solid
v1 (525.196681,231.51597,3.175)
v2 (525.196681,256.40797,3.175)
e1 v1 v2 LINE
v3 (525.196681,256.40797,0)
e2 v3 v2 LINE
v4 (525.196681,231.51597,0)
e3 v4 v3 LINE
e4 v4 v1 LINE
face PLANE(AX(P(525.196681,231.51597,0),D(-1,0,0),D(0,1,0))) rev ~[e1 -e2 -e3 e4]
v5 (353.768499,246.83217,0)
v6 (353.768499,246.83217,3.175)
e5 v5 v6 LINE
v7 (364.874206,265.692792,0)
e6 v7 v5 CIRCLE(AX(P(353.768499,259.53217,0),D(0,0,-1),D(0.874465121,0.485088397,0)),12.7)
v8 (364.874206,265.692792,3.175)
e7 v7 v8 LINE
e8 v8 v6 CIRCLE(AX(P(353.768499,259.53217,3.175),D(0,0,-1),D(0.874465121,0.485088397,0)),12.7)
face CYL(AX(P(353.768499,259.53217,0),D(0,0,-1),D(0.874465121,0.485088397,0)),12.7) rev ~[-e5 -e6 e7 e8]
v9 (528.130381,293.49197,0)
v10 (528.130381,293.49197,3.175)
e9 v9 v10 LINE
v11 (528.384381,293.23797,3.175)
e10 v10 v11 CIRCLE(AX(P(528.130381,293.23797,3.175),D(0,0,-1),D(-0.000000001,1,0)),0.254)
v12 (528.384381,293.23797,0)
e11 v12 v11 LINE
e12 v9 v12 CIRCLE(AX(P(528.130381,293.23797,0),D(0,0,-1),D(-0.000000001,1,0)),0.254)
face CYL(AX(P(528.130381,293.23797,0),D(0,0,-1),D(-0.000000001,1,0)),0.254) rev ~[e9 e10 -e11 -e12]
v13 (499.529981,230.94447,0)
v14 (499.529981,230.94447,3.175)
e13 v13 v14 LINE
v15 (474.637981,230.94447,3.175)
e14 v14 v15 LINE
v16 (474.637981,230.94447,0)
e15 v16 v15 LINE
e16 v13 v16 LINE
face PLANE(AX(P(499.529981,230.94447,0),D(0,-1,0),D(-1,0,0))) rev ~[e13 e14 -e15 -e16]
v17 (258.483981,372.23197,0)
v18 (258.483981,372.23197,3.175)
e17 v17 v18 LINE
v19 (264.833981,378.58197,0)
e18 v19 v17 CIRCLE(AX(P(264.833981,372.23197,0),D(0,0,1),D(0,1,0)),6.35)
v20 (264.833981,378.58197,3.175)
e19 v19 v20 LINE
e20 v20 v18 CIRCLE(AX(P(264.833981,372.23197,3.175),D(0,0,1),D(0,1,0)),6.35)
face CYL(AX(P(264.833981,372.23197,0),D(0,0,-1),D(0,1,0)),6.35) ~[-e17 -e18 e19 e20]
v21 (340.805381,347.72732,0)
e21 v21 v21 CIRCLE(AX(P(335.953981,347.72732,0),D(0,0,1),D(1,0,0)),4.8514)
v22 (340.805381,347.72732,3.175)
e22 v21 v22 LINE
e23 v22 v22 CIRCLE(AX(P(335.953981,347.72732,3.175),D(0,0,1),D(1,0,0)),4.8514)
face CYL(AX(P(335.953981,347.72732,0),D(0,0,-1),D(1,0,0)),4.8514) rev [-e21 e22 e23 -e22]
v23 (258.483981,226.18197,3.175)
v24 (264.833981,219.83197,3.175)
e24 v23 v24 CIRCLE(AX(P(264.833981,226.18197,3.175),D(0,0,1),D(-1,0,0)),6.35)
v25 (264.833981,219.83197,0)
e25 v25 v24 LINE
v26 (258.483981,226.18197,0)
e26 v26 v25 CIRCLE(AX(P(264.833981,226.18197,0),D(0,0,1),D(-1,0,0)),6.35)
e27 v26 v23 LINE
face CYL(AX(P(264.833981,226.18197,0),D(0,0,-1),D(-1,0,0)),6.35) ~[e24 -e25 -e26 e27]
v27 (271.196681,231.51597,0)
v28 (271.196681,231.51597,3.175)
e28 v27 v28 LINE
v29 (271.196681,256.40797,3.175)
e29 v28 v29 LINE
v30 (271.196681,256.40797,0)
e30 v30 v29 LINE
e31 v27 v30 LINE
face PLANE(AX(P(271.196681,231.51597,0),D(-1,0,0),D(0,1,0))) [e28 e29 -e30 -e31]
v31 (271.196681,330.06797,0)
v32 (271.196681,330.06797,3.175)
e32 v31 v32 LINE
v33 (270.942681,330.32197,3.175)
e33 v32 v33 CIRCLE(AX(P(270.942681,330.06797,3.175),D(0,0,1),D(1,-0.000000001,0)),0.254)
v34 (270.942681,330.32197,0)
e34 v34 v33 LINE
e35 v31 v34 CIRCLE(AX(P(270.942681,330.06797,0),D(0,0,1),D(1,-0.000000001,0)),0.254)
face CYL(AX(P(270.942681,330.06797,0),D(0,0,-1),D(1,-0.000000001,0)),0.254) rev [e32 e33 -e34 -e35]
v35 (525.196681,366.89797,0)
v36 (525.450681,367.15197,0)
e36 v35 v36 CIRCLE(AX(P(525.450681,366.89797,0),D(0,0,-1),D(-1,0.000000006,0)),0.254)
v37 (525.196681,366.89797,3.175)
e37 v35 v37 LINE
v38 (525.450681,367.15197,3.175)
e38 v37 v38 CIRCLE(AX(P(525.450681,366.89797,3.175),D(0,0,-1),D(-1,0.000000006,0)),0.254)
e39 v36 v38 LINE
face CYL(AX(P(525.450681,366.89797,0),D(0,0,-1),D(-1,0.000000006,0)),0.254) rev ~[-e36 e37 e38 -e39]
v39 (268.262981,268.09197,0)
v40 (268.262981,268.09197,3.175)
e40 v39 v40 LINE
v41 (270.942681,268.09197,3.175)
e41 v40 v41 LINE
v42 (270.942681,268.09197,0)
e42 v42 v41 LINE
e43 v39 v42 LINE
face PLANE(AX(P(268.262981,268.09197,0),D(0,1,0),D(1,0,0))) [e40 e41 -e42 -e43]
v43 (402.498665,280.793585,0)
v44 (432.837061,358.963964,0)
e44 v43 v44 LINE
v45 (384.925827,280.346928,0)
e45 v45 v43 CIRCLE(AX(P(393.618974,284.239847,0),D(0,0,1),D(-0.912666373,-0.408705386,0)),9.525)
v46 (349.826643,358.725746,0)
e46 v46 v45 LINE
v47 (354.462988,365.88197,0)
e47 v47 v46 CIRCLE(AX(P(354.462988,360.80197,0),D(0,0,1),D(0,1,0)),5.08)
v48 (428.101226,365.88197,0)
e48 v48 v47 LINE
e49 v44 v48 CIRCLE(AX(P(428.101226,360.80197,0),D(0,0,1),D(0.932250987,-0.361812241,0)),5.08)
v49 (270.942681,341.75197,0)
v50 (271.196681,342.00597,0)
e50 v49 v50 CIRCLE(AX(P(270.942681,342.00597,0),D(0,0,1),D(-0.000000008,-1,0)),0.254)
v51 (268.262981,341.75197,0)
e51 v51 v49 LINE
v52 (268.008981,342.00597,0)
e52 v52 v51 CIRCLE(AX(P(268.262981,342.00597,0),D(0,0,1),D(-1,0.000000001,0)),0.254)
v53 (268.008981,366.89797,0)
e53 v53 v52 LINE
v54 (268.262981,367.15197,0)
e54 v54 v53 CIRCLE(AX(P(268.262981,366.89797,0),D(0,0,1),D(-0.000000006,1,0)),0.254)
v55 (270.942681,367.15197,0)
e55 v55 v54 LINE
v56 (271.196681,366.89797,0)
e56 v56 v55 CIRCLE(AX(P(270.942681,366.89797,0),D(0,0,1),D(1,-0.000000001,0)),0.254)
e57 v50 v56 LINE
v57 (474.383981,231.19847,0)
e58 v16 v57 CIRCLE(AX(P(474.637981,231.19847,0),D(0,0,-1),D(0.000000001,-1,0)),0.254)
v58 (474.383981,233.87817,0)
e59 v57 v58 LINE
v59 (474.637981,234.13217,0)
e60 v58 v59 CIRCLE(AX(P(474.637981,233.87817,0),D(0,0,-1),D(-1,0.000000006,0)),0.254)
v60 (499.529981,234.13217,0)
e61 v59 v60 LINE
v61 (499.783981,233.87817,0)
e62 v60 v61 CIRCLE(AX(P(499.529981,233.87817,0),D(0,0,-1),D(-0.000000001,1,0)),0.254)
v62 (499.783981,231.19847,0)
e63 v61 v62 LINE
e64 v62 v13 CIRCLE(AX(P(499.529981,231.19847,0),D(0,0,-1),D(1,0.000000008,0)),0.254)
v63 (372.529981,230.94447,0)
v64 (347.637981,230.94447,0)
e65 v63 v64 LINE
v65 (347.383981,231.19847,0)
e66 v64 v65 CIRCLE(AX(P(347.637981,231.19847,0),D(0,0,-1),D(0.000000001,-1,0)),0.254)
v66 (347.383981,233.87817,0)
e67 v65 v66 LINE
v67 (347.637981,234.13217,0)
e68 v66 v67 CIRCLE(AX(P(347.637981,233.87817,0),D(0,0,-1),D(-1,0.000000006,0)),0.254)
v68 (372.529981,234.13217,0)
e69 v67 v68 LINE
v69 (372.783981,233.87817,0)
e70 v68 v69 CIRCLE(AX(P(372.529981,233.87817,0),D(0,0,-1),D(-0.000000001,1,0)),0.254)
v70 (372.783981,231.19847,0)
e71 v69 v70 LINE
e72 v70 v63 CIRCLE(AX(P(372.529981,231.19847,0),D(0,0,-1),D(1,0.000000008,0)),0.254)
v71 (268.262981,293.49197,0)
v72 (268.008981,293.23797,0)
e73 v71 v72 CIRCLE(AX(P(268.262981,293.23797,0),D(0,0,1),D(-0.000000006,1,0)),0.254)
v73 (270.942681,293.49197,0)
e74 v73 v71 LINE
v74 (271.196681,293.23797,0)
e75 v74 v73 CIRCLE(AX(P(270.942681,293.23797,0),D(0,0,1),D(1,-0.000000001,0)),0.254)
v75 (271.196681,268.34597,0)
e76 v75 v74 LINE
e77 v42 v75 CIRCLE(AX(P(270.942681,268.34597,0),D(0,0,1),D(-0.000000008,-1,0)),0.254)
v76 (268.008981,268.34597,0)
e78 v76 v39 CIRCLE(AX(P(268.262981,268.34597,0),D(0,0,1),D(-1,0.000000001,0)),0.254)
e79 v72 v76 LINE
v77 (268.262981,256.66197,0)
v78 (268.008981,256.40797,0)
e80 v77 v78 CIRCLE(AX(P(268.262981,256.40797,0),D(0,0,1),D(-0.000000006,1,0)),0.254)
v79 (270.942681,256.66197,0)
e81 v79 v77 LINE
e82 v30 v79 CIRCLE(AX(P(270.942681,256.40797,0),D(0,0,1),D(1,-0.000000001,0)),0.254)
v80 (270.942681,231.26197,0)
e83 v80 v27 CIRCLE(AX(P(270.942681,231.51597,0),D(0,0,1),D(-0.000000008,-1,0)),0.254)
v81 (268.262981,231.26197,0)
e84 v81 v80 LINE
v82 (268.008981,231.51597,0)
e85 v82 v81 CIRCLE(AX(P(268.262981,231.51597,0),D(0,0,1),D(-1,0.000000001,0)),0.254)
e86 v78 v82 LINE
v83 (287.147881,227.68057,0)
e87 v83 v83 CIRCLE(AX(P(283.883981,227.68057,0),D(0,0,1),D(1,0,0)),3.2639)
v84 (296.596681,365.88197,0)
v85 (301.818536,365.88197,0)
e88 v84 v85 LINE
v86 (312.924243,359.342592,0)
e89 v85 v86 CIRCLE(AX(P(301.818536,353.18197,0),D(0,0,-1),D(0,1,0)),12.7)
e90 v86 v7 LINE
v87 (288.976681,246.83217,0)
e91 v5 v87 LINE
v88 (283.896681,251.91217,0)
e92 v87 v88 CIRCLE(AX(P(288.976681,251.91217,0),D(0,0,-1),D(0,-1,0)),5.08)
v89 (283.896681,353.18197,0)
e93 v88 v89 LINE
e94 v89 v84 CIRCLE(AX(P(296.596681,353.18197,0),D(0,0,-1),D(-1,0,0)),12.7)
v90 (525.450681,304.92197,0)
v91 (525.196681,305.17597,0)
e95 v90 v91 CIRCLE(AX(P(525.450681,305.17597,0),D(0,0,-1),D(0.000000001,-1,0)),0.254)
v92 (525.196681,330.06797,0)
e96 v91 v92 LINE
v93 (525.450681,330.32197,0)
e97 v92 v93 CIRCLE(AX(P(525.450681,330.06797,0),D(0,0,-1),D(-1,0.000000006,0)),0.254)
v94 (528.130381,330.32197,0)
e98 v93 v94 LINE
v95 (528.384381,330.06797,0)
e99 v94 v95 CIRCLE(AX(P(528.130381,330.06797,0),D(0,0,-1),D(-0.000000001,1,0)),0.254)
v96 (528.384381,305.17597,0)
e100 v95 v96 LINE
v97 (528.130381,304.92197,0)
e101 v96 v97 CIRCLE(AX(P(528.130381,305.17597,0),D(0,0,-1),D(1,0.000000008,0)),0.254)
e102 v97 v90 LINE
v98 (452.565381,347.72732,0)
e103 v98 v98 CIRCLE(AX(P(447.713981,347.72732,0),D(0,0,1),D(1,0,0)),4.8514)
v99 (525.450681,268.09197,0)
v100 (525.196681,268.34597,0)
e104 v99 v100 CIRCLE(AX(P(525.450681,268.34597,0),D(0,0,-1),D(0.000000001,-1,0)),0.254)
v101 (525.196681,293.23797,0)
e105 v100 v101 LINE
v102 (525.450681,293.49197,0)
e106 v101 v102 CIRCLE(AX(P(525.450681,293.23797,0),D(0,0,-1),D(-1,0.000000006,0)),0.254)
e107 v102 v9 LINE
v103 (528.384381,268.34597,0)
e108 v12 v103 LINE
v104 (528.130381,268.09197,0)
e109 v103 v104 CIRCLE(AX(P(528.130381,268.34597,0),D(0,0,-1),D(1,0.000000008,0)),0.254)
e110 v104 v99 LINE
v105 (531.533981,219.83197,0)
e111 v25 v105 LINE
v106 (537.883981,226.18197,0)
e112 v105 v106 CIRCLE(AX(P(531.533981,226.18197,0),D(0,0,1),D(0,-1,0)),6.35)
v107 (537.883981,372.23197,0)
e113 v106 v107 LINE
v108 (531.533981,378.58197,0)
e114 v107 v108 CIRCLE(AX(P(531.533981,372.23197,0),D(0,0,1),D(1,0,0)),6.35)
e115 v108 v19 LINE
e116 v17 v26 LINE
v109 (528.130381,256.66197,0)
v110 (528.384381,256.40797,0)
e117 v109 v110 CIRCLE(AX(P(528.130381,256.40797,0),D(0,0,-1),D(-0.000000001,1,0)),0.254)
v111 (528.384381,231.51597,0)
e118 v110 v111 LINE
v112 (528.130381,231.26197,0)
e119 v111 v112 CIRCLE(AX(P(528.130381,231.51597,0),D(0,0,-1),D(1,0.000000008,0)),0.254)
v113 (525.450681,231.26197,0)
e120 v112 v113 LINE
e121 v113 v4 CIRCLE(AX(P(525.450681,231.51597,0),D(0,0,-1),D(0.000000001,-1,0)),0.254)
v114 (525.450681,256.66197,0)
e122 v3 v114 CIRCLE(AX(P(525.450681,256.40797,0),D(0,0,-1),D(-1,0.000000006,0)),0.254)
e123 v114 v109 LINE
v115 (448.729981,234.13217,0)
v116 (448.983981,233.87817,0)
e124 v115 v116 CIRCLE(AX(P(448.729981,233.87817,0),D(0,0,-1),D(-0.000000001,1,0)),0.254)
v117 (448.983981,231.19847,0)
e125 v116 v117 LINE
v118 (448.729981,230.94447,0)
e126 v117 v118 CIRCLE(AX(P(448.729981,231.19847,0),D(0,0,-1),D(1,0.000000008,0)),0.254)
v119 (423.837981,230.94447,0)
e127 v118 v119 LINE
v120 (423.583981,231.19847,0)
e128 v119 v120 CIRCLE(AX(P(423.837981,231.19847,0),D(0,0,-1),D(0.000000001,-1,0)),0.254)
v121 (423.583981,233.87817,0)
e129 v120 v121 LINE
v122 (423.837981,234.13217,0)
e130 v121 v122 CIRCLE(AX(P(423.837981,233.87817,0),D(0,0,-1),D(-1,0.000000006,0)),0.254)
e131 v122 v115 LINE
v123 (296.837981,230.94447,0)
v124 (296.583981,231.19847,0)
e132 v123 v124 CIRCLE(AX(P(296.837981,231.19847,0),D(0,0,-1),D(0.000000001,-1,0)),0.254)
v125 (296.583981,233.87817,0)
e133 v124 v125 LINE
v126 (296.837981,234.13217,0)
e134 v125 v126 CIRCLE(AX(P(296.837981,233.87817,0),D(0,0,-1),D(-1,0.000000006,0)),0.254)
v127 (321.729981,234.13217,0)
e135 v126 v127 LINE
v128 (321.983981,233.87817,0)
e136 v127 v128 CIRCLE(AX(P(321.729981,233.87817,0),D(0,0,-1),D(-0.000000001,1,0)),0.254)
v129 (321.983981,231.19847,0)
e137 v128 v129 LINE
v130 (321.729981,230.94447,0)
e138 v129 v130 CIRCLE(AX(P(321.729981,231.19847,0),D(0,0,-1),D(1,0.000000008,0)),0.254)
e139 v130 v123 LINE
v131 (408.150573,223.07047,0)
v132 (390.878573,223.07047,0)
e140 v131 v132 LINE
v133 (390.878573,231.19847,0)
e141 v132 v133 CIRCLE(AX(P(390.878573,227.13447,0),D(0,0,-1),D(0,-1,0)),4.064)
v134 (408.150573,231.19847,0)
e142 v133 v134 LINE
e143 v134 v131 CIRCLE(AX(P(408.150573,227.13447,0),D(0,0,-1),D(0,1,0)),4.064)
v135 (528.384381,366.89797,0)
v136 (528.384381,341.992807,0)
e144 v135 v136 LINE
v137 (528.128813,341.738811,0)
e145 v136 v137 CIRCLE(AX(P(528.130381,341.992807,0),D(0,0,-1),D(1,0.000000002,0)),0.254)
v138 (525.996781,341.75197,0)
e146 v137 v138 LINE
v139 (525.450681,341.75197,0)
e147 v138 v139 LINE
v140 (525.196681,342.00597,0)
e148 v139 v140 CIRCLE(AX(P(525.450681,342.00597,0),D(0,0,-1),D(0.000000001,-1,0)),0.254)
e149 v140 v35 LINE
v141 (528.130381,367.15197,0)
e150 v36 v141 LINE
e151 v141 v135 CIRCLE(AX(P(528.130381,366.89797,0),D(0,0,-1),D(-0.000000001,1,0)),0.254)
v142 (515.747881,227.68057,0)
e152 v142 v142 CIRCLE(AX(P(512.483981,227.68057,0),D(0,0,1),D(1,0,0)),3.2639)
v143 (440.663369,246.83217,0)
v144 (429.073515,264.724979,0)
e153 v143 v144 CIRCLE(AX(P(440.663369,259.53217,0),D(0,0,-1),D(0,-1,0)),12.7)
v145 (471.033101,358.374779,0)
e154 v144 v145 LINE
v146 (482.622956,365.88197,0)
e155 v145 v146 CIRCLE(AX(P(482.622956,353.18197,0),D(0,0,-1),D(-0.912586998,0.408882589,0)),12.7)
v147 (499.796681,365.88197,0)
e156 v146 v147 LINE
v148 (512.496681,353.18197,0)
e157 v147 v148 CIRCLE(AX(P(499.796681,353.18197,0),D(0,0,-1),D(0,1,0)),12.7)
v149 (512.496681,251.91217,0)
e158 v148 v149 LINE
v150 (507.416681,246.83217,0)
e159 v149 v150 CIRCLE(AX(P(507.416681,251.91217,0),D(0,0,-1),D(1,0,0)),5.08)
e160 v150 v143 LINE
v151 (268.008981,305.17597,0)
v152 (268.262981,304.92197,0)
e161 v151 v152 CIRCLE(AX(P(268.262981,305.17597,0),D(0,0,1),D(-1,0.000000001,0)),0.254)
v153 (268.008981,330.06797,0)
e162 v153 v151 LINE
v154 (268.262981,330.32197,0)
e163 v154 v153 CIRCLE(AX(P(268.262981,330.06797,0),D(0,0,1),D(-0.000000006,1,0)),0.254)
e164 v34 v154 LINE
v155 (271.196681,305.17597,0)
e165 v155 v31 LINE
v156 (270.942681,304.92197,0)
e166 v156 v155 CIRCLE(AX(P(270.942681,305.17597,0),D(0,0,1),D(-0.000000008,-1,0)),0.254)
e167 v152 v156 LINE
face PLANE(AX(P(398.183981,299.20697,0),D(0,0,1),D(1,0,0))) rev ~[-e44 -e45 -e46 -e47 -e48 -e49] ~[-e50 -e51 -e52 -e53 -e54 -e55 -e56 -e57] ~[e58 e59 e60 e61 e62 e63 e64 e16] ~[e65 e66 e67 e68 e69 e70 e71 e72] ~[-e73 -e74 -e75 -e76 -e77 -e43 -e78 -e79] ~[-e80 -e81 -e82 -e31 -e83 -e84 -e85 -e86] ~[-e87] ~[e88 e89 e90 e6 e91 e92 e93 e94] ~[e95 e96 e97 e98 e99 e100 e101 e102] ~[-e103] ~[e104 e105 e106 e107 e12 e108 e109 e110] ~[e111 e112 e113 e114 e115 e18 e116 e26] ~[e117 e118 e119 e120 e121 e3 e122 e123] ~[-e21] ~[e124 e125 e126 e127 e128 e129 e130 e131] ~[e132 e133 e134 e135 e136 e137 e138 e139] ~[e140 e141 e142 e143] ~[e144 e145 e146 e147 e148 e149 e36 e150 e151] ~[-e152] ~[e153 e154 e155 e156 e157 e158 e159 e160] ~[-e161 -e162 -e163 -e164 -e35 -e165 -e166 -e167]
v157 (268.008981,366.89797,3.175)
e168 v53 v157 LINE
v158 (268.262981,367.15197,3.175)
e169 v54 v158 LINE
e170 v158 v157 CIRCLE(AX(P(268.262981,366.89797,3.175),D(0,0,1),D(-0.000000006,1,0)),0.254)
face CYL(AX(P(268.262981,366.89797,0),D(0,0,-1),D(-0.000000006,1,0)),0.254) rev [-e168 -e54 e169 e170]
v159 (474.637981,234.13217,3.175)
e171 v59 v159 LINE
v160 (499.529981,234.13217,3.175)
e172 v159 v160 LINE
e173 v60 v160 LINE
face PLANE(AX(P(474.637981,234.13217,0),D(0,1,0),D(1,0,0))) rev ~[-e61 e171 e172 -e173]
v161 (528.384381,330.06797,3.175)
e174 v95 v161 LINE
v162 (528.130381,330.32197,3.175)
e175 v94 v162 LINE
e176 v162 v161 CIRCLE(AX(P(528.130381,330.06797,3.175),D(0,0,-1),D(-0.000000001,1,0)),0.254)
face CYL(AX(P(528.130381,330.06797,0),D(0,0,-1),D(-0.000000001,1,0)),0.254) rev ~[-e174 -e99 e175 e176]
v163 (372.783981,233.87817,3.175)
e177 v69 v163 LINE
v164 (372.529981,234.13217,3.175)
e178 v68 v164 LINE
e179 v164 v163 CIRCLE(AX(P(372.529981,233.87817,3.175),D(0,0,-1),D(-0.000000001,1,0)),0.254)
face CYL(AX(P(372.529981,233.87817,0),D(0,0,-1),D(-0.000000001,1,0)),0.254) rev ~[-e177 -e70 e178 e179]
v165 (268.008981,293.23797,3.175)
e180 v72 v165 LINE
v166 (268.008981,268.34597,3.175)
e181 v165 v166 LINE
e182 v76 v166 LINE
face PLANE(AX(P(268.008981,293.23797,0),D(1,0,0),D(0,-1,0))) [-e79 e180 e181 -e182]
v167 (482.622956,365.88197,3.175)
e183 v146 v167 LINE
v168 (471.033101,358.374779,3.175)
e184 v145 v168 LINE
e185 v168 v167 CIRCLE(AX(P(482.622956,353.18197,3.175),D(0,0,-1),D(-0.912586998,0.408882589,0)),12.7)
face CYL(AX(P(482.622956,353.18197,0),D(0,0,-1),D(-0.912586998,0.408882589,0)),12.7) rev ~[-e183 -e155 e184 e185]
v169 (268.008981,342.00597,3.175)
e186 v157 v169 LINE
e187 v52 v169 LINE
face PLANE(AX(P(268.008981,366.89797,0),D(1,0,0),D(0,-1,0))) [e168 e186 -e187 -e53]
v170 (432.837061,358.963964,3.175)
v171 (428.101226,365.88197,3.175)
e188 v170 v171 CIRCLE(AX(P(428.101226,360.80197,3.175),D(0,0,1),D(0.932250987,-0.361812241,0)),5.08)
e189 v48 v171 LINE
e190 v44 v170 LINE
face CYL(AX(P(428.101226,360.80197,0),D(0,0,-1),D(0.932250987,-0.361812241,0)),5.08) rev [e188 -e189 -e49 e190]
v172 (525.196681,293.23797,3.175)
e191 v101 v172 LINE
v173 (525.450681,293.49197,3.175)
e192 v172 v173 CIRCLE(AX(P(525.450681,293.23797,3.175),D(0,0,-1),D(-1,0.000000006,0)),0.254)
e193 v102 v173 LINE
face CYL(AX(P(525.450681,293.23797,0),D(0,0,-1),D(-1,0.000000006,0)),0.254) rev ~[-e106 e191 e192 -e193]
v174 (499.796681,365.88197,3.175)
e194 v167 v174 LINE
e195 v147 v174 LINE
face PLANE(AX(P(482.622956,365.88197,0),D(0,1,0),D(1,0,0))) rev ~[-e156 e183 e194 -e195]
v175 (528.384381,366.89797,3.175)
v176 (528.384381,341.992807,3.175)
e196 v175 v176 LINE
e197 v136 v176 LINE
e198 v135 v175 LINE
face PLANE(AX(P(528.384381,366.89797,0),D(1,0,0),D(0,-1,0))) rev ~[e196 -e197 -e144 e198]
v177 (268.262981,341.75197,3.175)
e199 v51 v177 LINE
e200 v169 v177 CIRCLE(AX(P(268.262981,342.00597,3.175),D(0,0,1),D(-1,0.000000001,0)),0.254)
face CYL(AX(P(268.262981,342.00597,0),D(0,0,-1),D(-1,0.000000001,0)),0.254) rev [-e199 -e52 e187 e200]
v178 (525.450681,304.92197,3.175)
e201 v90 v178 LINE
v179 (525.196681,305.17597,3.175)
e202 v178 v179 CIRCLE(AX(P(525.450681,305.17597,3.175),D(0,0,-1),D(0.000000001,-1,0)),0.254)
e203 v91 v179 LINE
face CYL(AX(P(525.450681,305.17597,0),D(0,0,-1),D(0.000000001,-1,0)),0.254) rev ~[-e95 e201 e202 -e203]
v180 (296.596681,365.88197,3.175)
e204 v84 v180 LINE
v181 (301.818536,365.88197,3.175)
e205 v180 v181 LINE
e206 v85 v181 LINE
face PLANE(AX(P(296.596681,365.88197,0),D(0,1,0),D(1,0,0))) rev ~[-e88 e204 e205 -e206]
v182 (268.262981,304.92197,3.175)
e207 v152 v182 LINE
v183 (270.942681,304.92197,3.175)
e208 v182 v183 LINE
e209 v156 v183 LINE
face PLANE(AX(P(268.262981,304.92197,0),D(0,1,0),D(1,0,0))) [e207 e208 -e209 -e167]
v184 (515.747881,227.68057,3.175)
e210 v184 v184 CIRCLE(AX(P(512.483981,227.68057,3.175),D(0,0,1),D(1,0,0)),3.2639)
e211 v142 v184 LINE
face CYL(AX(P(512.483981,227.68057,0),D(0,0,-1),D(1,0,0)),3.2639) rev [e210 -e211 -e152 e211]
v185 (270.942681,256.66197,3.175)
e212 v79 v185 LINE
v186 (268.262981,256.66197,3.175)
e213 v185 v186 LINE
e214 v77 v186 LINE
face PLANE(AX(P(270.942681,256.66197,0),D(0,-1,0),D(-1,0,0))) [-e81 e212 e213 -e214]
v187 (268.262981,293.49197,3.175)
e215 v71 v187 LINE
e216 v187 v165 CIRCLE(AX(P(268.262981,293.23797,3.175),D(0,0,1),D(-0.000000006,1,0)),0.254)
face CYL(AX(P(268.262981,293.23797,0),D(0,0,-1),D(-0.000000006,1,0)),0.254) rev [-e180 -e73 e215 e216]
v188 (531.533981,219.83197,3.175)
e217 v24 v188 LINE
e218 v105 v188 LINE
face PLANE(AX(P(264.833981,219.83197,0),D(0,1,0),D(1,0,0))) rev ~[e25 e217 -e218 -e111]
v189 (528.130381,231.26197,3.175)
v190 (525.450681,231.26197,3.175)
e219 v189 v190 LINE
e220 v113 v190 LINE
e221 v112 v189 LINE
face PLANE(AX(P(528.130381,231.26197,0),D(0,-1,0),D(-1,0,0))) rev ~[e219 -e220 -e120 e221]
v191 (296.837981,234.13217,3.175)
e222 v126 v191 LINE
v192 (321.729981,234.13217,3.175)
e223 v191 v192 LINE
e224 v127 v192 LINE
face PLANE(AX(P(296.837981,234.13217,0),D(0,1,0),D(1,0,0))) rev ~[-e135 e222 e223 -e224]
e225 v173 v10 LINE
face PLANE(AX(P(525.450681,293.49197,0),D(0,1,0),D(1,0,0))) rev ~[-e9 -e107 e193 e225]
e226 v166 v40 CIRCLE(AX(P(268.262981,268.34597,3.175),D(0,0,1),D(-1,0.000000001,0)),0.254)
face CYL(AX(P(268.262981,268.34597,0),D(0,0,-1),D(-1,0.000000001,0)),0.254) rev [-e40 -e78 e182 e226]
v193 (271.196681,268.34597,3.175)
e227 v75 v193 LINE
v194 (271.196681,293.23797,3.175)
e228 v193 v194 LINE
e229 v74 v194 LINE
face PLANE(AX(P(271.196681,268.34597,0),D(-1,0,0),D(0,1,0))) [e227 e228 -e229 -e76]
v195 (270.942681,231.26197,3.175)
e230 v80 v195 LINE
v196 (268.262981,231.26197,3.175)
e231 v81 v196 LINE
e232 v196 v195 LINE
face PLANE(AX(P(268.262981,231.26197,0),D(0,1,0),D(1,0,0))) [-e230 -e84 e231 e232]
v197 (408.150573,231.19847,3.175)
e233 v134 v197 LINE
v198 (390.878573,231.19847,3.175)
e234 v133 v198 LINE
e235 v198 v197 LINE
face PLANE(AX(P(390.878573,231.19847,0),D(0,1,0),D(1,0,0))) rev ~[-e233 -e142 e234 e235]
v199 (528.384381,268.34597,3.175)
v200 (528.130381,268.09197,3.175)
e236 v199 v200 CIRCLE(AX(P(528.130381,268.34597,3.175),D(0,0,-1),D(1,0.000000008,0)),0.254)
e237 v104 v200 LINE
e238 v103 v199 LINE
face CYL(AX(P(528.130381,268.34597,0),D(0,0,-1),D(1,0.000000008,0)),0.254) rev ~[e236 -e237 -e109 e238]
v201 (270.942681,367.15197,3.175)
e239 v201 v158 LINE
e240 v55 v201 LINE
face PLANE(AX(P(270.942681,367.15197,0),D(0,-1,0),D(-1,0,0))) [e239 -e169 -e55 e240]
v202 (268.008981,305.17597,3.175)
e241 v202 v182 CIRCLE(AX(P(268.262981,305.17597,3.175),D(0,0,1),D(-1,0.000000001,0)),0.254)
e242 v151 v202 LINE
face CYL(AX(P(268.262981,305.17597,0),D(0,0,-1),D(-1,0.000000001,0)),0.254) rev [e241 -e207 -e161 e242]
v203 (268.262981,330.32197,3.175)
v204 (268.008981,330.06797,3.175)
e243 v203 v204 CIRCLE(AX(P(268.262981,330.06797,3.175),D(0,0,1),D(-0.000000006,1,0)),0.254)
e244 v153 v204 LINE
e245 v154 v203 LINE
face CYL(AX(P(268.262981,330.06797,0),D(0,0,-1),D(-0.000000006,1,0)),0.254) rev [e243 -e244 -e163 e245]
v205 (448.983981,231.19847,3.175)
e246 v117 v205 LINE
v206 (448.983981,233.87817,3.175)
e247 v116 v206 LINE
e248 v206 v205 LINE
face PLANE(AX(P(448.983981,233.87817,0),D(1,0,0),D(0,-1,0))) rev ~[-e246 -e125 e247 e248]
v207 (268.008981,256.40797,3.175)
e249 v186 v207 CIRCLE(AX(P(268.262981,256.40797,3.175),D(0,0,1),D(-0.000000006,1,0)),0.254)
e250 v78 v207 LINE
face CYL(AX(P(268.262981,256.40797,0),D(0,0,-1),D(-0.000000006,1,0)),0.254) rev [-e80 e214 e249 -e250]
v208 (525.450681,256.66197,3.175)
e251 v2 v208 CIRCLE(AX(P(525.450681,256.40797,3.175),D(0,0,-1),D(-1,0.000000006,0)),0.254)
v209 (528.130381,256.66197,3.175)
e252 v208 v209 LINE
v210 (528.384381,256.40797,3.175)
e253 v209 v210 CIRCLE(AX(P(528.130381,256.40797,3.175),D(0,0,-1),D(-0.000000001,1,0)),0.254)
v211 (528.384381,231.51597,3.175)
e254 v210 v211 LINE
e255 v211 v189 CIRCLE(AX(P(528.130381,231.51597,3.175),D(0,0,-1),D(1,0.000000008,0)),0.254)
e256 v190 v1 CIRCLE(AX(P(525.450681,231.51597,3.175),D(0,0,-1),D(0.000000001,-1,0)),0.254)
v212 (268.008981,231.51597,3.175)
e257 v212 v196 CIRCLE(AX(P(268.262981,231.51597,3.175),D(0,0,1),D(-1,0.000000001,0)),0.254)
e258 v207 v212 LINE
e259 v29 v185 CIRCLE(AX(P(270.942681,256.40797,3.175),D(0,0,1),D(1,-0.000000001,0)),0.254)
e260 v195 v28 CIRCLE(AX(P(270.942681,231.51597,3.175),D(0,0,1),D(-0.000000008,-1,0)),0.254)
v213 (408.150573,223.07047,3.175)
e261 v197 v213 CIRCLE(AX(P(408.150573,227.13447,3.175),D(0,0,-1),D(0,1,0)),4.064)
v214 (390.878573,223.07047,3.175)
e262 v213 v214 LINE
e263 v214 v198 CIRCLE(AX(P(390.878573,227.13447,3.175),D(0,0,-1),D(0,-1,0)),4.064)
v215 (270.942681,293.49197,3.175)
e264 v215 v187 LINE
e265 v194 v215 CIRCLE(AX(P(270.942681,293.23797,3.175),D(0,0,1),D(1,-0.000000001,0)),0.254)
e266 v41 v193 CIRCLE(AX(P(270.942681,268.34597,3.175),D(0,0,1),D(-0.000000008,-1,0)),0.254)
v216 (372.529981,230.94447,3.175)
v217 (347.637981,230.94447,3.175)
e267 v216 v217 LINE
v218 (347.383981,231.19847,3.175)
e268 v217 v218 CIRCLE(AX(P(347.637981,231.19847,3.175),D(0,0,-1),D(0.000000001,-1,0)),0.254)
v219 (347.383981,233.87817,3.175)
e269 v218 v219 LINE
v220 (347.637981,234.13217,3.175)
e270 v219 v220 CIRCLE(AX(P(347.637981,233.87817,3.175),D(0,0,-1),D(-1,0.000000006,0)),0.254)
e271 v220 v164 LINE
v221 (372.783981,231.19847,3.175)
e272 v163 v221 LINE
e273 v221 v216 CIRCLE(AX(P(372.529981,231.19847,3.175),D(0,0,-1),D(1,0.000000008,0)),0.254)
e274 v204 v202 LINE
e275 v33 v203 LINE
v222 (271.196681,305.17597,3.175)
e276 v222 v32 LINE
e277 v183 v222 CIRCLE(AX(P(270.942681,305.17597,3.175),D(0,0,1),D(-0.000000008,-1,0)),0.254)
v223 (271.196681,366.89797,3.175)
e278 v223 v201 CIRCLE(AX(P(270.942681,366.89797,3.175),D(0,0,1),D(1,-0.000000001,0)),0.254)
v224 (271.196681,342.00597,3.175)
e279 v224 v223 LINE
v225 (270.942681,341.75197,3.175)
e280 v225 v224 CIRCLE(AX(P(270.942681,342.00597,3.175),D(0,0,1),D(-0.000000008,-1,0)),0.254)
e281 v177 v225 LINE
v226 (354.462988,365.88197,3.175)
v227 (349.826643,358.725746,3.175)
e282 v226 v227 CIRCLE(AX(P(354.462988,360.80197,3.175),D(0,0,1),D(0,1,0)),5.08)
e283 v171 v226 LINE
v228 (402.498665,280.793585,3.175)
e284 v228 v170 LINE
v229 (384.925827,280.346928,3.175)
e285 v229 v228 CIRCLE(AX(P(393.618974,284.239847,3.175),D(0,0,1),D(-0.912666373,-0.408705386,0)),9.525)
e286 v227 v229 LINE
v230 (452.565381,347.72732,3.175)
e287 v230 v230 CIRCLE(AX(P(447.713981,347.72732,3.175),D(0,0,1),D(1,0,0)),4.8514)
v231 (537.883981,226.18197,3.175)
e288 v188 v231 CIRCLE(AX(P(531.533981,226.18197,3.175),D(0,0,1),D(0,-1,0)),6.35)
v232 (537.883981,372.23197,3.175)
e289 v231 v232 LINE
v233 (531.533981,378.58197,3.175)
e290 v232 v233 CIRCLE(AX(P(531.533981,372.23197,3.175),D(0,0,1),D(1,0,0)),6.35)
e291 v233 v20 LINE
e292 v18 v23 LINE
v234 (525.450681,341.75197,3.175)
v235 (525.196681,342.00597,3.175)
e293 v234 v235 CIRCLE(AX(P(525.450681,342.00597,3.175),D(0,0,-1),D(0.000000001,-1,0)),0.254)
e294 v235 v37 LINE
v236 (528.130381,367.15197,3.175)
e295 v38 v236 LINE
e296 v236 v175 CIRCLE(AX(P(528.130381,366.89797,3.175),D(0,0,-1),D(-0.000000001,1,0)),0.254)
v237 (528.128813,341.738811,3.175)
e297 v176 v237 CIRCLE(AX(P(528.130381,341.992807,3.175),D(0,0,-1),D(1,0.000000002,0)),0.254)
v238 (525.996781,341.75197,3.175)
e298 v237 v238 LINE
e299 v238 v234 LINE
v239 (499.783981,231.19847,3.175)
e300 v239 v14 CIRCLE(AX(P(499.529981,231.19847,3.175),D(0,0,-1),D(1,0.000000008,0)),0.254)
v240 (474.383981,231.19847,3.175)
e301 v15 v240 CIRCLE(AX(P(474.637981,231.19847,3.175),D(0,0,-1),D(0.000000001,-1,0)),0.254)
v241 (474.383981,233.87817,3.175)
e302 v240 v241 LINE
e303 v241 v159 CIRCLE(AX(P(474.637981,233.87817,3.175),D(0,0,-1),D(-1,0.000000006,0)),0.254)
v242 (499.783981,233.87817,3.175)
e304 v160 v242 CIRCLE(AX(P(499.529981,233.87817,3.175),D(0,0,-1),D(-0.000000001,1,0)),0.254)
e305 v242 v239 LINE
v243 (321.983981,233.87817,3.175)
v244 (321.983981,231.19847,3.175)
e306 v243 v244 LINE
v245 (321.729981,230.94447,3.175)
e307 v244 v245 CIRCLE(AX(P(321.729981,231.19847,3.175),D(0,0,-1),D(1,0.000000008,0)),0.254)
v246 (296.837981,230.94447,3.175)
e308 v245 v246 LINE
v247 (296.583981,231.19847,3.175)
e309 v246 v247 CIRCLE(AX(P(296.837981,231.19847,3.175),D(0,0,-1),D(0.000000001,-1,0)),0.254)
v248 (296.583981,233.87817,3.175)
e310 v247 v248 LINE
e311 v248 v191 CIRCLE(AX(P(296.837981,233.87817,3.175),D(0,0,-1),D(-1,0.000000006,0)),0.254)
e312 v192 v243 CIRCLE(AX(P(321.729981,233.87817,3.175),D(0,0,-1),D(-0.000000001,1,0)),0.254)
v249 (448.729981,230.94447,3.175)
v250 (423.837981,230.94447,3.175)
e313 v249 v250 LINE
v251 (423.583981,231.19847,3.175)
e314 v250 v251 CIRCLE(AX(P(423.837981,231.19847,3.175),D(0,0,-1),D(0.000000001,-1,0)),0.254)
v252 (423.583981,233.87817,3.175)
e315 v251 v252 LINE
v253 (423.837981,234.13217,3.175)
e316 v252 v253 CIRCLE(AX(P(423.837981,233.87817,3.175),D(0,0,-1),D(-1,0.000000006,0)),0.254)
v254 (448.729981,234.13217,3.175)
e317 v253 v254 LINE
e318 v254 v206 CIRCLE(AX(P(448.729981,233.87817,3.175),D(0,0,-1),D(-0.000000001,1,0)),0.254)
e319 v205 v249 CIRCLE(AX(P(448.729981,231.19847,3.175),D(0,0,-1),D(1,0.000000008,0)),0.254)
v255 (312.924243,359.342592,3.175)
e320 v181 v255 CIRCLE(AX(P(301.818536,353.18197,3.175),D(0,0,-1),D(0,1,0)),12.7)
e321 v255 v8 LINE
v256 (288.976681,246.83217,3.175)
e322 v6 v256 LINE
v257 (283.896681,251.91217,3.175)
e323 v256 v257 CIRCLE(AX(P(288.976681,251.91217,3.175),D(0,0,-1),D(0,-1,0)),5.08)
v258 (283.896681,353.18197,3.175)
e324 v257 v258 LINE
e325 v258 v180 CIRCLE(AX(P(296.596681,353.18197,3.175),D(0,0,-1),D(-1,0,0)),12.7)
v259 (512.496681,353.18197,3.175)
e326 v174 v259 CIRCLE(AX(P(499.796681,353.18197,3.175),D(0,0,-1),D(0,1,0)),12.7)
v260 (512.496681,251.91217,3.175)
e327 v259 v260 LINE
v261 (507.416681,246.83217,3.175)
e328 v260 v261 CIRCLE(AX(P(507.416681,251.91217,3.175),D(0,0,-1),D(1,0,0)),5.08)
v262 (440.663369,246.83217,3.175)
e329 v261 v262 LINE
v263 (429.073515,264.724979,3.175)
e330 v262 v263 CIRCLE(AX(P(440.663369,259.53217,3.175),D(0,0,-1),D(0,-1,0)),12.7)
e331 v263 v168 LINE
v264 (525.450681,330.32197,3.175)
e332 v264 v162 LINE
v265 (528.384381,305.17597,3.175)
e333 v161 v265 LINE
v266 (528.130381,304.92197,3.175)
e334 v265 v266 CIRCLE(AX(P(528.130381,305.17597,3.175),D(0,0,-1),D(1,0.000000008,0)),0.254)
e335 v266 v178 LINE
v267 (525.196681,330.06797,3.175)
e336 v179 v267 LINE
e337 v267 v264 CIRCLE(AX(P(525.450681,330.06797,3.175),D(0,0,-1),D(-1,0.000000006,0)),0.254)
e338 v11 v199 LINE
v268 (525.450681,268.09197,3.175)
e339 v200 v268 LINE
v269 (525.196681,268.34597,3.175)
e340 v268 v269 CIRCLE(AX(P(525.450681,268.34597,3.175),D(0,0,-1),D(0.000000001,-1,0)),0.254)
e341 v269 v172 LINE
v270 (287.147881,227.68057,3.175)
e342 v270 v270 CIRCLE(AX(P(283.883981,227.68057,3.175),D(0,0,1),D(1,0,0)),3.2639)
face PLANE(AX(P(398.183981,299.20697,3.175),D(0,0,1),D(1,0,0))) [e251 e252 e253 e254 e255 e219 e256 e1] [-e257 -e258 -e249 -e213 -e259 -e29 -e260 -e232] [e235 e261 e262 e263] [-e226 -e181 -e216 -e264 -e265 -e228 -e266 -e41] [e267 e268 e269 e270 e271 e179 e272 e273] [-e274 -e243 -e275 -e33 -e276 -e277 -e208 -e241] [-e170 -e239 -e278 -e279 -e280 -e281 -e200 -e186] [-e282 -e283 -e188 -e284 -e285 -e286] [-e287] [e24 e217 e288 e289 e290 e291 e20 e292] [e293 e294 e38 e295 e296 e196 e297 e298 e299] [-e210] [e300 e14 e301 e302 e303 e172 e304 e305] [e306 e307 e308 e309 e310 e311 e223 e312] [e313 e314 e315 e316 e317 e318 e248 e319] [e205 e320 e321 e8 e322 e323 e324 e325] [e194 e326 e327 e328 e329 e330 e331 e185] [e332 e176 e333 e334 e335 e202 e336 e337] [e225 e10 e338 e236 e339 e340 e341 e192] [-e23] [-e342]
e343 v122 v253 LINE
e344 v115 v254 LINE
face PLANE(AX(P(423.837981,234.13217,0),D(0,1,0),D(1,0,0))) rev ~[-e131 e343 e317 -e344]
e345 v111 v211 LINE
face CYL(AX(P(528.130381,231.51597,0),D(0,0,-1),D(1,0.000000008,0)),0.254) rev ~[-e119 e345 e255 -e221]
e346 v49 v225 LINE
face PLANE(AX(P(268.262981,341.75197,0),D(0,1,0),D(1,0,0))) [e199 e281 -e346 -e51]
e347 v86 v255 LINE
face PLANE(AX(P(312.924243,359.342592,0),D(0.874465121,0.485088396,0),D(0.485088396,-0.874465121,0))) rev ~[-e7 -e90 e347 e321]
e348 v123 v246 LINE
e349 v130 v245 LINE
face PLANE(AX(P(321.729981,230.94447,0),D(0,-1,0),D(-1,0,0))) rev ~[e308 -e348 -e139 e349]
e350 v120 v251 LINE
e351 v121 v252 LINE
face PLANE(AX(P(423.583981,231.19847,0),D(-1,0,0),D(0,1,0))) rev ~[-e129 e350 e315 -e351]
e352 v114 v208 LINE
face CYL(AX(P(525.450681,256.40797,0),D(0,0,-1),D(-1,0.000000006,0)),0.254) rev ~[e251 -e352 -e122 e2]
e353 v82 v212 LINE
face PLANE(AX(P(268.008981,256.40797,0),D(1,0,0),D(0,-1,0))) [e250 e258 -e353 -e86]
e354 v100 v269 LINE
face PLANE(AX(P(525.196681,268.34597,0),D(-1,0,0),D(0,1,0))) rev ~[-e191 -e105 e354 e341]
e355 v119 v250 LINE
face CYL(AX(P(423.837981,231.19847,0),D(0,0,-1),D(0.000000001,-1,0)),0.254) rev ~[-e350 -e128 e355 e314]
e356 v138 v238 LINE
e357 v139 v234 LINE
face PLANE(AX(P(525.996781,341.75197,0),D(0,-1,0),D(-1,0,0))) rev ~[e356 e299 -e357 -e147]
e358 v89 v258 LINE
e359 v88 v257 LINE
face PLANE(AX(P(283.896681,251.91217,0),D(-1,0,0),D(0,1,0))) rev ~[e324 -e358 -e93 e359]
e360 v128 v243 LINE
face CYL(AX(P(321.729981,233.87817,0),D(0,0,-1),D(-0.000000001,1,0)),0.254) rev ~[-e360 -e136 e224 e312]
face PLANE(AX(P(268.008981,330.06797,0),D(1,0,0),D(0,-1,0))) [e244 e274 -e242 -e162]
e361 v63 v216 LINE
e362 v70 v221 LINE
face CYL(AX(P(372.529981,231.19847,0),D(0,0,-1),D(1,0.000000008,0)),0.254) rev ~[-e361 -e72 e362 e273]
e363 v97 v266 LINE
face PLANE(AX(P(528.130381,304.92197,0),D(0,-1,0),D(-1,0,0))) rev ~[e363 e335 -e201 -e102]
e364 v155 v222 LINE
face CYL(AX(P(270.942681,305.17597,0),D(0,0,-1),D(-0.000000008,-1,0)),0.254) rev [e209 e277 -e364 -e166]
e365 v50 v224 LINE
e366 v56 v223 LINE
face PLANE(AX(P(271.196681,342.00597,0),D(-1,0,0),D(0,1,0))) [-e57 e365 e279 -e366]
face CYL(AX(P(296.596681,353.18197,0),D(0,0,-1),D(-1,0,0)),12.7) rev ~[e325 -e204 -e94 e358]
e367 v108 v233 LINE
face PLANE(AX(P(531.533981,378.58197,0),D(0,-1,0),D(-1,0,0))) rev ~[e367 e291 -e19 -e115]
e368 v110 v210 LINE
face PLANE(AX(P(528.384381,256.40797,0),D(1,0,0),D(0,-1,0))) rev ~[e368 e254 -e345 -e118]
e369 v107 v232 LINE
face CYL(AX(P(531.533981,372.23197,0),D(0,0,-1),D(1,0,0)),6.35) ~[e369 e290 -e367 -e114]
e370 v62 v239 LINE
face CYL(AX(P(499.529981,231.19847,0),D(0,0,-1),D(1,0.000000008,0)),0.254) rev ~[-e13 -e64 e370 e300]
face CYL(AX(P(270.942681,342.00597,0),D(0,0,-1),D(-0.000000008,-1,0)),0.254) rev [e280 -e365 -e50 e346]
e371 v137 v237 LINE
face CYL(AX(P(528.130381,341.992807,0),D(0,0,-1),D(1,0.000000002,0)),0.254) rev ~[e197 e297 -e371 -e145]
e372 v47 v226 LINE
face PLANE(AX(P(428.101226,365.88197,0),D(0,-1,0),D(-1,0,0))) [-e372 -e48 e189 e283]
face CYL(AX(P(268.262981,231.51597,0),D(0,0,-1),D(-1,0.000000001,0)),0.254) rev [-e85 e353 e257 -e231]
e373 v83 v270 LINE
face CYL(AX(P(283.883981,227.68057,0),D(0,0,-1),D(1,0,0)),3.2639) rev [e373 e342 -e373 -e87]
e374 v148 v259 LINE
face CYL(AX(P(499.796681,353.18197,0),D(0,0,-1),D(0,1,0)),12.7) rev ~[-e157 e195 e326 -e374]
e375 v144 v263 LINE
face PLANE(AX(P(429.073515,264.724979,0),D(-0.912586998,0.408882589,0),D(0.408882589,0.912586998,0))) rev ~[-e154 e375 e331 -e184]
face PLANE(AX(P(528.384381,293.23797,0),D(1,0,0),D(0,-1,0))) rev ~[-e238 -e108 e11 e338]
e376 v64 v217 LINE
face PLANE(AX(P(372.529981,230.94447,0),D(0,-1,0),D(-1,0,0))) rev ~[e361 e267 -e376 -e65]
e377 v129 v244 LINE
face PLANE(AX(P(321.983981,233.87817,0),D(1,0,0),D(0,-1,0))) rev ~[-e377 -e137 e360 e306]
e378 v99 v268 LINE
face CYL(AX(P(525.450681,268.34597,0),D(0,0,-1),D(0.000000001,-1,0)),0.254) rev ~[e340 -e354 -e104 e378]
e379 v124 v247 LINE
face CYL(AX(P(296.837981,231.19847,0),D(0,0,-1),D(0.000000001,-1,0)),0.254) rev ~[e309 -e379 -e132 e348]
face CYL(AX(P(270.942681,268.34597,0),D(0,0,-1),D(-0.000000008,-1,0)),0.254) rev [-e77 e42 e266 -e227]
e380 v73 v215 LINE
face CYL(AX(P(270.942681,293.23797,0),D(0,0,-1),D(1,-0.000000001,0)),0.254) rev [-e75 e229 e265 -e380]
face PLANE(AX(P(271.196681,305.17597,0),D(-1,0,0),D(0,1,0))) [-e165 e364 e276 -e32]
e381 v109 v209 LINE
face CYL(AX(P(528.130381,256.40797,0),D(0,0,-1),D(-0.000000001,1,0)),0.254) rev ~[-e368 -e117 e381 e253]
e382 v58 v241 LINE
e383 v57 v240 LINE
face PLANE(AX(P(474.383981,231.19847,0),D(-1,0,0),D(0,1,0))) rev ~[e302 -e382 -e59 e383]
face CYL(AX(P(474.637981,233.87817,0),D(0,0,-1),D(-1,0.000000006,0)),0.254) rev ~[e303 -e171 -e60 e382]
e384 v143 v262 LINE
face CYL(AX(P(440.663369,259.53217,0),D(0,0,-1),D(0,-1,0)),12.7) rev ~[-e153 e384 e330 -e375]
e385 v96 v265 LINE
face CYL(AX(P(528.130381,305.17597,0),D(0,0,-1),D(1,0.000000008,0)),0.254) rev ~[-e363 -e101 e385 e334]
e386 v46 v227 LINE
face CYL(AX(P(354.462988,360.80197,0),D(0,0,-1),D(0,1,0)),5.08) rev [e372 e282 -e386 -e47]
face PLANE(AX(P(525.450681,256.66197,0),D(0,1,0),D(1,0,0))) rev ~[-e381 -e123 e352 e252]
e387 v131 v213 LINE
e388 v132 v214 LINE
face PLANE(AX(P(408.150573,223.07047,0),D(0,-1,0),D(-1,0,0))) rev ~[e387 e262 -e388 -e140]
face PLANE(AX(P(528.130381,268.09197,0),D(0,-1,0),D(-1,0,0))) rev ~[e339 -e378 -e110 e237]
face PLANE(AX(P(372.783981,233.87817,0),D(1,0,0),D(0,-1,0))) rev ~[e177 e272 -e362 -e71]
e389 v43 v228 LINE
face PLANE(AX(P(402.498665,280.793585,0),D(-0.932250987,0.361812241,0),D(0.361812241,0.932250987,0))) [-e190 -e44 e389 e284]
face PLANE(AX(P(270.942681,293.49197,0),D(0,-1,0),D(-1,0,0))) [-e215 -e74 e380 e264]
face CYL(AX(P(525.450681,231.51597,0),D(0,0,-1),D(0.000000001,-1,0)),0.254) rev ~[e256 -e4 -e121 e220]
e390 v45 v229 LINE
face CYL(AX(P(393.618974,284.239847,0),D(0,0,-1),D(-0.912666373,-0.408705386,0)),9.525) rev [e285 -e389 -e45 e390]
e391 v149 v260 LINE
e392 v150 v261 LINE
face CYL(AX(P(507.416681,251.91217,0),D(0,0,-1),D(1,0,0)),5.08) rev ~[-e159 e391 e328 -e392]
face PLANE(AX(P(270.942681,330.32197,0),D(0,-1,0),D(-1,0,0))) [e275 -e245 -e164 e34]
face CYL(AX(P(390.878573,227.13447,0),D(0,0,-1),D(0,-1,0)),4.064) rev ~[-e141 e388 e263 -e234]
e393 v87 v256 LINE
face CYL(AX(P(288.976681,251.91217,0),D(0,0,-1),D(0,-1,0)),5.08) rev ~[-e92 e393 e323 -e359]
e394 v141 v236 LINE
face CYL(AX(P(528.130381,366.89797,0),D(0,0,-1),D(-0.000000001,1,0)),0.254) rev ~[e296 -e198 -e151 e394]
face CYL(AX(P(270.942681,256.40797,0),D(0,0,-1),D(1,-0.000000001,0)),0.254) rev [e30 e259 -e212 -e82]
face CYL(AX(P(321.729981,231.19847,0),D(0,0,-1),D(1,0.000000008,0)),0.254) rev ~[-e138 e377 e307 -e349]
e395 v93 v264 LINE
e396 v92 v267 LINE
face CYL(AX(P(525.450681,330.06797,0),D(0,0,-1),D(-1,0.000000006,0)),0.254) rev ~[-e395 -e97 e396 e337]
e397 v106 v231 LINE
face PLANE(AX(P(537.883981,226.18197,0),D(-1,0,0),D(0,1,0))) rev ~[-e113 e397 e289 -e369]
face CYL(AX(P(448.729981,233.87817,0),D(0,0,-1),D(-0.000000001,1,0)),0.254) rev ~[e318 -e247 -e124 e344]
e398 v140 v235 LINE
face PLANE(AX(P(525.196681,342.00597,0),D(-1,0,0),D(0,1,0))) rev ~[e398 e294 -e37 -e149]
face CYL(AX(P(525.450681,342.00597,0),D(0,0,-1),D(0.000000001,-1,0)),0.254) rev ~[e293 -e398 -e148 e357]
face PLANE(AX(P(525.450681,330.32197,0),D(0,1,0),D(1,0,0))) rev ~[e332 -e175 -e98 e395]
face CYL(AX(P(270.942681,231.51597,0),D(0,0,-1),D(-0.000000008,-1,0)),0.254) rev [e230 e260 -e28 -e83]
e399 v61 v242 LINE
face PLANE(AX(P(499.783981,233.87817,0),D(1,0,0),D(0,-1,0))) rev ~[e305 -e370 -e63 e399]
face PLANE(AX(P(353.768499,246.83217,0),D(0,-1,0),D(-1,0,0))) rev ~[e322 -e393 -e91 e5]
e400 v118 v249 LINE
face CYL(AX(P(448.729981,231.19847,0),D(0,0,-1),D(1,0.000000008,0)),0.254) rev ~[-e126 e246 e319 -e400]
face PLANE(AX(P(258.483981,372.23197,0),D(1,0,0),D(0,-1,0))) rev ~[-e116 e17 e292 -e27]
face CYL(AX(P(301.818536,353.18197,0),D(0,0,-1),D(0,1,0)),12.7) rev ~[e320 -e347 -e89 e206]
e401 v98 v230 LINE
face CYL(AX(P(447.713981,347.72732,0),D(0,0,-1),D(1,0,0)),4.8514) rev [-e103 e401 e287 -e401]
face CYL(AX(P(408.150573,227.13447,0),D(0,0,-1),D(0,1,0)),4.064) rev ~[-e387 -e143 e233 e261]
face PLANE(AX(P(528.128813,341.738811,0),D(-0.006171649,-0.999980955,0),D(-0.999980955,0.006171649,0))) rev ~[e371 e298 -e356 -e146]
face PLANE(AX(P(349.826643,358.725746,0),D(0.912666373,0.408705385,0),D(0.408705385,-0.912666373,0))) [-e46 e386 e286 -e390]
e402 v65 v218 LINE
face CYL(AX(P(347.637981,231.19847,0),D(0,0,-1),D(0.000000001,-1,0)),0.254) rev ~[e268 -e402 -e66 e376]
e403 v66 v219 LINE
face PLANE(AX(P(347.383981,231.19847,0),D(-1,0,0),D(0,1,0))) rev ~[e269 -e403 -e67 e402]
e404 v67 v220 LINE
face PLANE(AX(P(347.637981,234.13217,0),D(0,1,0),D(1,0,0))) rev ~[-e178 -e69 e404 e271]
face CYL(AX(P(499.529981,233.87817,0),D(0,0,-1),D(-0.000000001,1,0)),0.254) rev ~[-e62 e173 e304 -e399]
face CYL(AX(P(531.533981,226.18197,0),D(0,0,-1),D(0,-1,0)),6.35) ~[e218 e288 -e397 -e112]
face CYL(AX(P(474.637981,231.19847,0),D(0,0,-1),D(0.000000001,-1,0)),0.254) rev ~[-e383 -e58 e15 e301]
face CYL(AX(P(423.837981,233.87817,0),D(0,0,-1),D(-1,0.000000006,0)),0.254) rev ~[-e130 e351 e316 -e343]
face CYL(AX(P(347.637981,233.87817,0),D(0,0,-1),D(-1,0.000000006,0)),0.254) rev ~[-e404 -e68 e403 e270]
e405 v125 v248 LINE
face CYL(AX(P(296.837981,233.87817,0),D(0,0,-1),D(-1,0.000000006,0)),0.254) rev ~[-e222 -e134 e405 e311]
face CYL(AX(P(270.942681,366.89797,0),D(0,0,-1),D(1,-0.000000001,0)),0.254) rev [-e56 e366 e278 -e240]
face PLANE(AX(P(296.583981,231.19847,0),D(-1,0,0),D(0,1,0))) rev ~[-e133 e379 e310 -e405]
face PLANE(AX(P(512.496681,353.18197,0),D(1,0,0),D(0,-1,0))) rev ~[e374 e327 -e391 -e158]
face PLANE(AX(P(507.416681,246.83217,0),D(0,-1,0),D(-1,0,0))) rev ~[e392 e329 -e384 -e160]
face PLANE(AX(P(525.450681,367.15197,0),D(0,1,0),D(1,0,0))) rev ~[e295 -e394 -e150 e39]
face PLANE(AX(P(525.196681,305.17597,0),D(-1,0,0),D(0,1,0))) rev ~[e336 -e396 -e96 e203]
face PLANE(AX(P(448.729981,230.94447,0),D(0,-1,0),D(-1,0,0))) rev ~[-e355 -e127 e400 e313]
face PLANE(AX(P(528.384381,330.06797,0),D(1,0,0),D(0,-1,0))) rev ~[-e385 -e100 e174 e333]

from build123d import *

# Parameters (mm, degrees)
MODEL_R             = 3.2639
MODEL_R_2           = 4.8514
BOSS_EXTRUDE1_DEPTH = 3.175


with BuildPart() as part:
    # Model → Boss-Extrude1 (new body)
    with BuildSketch(Plane.XY):
        with BuildLine():
            Line((531.533981051, 378.581969782), (264.833981051, 378.581969782))
            ThreePointArc((264.833981051, 378.581969782), (260.343852991, 376.722097842), (258.483981051, 372.231969782))
            Line((258.483981051, 372.231969782), (258.483981051, 226.181969782))
            ThreePointArc((258.483981051, 226.181969782), (260.343852991, 221.691841721), (264.833981051, 219.831969782))
            Line((264.833981051, 219.831969782), (531.533981051, 219.831969782))
            ThreePointArc((531.533981051, 219.831969782), (536.024109112, 221.691841721), (537.883981051, 226.181969782))
            Line((537.883981051, 226.181969782), (537.883981051, 372.231969782))
            ThreePointArc((537.883981051, 372.231969782), (536.024109112, 376.722097842), (531.533981051, 378.581969782))
        make_face()
        with Locations((512.483981051, 227.680569782)):
            Circle(MODEL_R, mode=Mode.SUBTRACT)
        with Locations((283.883981051, 227.680569782)):
            Circle(MODEL_R, mode=Mode.SUBTRACT)
        with Locations((335.953981051, 347.727319782)):
            Circle(MODEL_R_2, mode=Mode.SUBTRACT)
        with Locations((447.713981051, 347.727319782)):
            Circle(MODEL_R_2, mode=Mode.SUBTRACT)
        with BuildLine():
            Line((402.498664887, 280.793585302), (432.837061049, 358.963963597))
            ThreePointArc((432.837061049, 358.963963597), (432.293091457, 363.671580259), (428.101226036, 365.881969782))
            Line((428.101226036, 365.881969782), (354.462987986, 365.881969782))
            ThreePointArc((354.462987986, 365.881969782), (350.199561274, 363.564141512), (349.826642813, 358.725746424))
            Line((349.826642813, 358.725746424), (384.925827038, 280.346928102))
            ThreePointArc((384.925827038, 280.346928102), (393.860997539, 274.717922213), (402.498664887, 280.793585302))
        make_face(mode=Mode.SUBTRACT)
        with BuildLine():
            Line((271.196681051, 342.005969782), (271.196681051, 366.897969782))
            ThreePointArc((271.196681051, 366.897969782), (271.122286174, 367.077574904), (270.942681051, 367.151969782))
            Line((270.942681051, 367.151969782), (268.262981051, 367.151969782))
            ThreePointArc((268.262981051, 367.151969782), (268.083375929, 367.077574904), (268.008981051, 366.897969782))
            Line((268.008981051, 366.897969782), (268.008981051, 342.005969782))
            ThreePointArc((268.008981051, 342.005969782), (268.083375929, 341.826364659), (268.262981051, 341.751969782))
            Line((268.262981051, 341.751969782), (270.942681051, 341.751969782))
            ThreePointArc((270.942681051, 341.751969782), (271.122286174, 341.826364659), (271.196681051, 342.005969782))
        make_face(mode=Mode.SUBTRACT)
        with BuildLine():
            Line((271.196681051, 305.175969782), (271.196681051, 330.067969782))
            ThreePointArc((271.196681051, 330.067969782), (271.122286174, 330.247574904), (270.942681051, 330.321969782))
            Line((270.942681051, 330.321969782), (268.262981051, 330.321969782))
            ThreePointArc((268.262981051, 330.321969782), (268.083375929, 330.247574904), (268.008981051, 330.067969782))
            Line((268.008981051, 330.067969782), (268.008981051, 305.175969782))
            ThreePointArc((268.008981051, 305.175969782), (268.083375929, 304.996364659), (268.262981051, 304.921969782))
            Line((268.262981051, 304.921969782), (270.942681051, 304.921969782))
            ThreePointArc((270.942681051, 304.921969782), (271.122286174, 304.996364659), (271.196681051, 305.175969782))
        make_face(mode=Mode.SUBTRACT)
        with BuildLine():
            Line((271.196681051, 268.345969782), (271.196681051, 293.237969782))
            ThreePointArc((271.196681051, 293.237969782), (271.122286174, 293.417574904), (270.942681051, 293.491969782))
            Line((270.942681051, 293.491969782), (268.262981051, 293.491969782))
            ThreePointArc((268.262981051, 293.491969782), (268.083375929, 293.417574904), (268.008981051, 293.237969782))
            Line((268.008981051, 293.237969782), (268.008981051, 268.345969782))
            ThreePointArc((268.008981051, 268.345969782), (268.083375929, 268.166364659), (268.262981051, 268.091969782))
            Line((268.262981051, 268.091969782), (270.942681051, 268.091969782))
            ThreePointArc((270.942681051, 268.091969782), (271.122286174, 268.166364659), (271.196681051, 268.345969782))
        make_face(mode=Mode.SUBTRACT)
        with BuildLine():
            Line((271.196681051, 231.515969782), (271.196681051, 256.407969782))
            ThreePointArc((271.196681051, 256.407969782), (271.122286174, 256.587574904), (270.942681051, 256.661969782))
            Line((270.942681051, 256.661969782), (268.262981051, 256.661969782))
            ThreePointArc((268.262981051, 256.661969782), (268.083375929, 256.587574904), (268.008981051, 256.407969782))
            Line((268.008981051, 256.407969782), (268.008981051, 231.515969782))
            ThreePointArc((268.008981051, 231.515969782), (268.083375929, 231.336364659), (268.262981051, 231.261969782))
            Line((268.262981051, 231.261969782), (270.942681051, 231.261969782))
            ThreePointArc((270.942681051, 231.261969782), (271.122286174, 231.336364659), (271.196681051, 231.515969782))
        make_face(mode=Mode.SUBTRACT)
        with BuildLine():
            Line((283.896681051, 251.912169782), (283.896681051, 353.181969782))
            ThreePointArc((283.896681051, 353.181969782), (287.61642493, 362.162225903), (296.596681051, 365.881969782))
            Line((296.596681051, 365.881969782), (301.818535601, 365.881969782))
            ThreePointArc((301.818535601, 365.881969782), (308.262528638, 364.125687328), (312.924242636, 359.342592417))
            Line((312.924242636, 359.342592417), (364.874206365, 265.692792417))
            ThreePointArc((364.874206365, 265.692792417), (364.712216877, 253.088176744), (353.76849933, 246.832169782))
            Line((353.76849933, 246.832169782), (288.976681051, 246.832169782))
            ThreePointArc((288.976681051, 246.832169782), (285.384578603, 248.320067333), (283.896681051, 251.912169782))
        make_face(mode=Mode.SUBTRACT)
        with BuildLine():
            Line((525.996781051, 341.751969782), (525.450681051, 341.751969782))
            ThreePointArc((525.450681051, 341.751969782), (525.271075929, 341.826364659), (525.196681051, 342.005969782))
            Line((525.196681051, 342.005969782), (525.196681051, 366.897969782))
            ThreePointArc((525.196681051, 366.897969782), (525.271075929, 367.077574904), (525.450681051, 367.151969782))
            Line((525.450681051, 367.151969782), (528.130381051, 367.151969782))
            ThreePointArc((528.130381051, 367.151969782), (528.309986174, 367.077574904), (528.384381051, 366.897969782))
            Line((528.384381051, 366.897969782), (528.384381051, 341.992806539))
            ThreePointArc((528.384381051, 341.992806539), (528.309431086, 341.812648039), (528.128813452, 341.738811376))
            Line((528.128813452, 341.738811376), (525.996781051, 341.751969782))
        make_face(mode=Mode.SUBTRACT)
        with BuildLine():
            Line((296.837981051, 234.132169782), (321.729981051, 234.132169782))
            ThreePointArc((321.729981051, 234.132169782), (321.909586174, 234.057774904), (321.983981051, 233.878169782))
            Line((321.983981051, 233.878169782), (321.983981051, 231.198469782))
            ThreePointArc((321.983981051, 231.198469782), (321.909586174, 231.018864659), (321.729981051, 230.944469782))
            Line((321.729981051, 230.944469782), (296.837981051, 230.944469782))
            ThreePointArc((296.837981051, 230.944469782), (296.658375929, 231.018864659), (296.583981051, 231.198469782))
            Line((296.583981051, 231.198469782), (296.583981051, 233.878169782))
            ThreePointArc((296.583981051, 233.878169782), (296.658375929, 234.057774904), (296.837981051, 234.132169782))
        make_face(mode=Mode.SUBTRACT)
        with BuildLine():
            Line((474.637981051, 234.132169782), (499.529981051, 234.132169782))
            ThreePointArc((499.529981051, 234.132169782), (499.709586174, 234.057774904), (499.783981051, 233.878169782))
            Line((499.783981051, 233.878169782), (499.783981051, 231.198469782))
            ThreePointArc((499.783981051, 231.198469782), (499.709586174, 231.018864659), (499.529981051, 230.944469782))
            Line((499.529981051, 230.944469782), (474.637981051, 230.944469782))
            ThreePointArc((474.637981051, 230.944469782), (474.458375929, 231.018864659), (474.383981051, 231.198469782))
            Line((474.383981051, 231.198469782), (474.383981051, 233.878169782))
            ThreePointArc((474.383981051, 233.878169782), (474.458375929, 234.057774904), (474.637981051, 234.132169782))
        make_face(mode=Mode.SUBTRACT)
        with BuildLine():
            Line((525.196681051, 268.345969782), (525.196681051, 293.237969782))
            ThreePointArc((525.196681051, 293.237969782), (525.271075929, 293.417574904), (525.450681051, 293.491969782))
            Line((525.450681051, 293.491969782), (528.130381051, 293.491969782))
            ThreePointArc((528.130381051, 293.491969782), (528.309986174, 293.417574904), (528.384381051, 293.237969782))
            Line((528.384381051, 293.237969782), (528.384381051, 268.345969782))
            ThreePointArc((528.384381051, 268.345969782), (528.309986174, 268.166364659), (528.130381051, 268.091969782))
            Line((528.130381051, 268.091969782), (525.450681051, 268.091969782))
            ThreePointArc((525.450681051, 268.091969782), (525.271075929, 268.166364659), (525.196681051, 268.345969782))
        make_face(mode=Mode.SUBTRACT)
        with BuildLine():
            Line((525.196681051, 231.515969782), (525.196681051, 256.407969782))
            ThreePointArc((525.196681051, 256.407969782), (525.271075929, 256.587574904), (525.450681051, 256.661969782))
            Line((525.450681051, 256.661969782), (528.130381051, 256.661969782))
            ThreePointArc((528.130381051, 256.661969782), (528.309986174, 256.587574904), (528.384381051, 256.407969782))
            Line((528.384381051, 256.407969782), (528.384381051, 231.515969782))
            ThreePointArc((528.384381051, 231.515969782), (528.309986174, 231.336364659), (528.130381051, 231.261969782))
            Line((528.130381051, 231.261969782), (525.450681051, 231.261969782))
            ThreePointArc((525.450681051, 231.261969782), (525.271075929, 231.336364659), (525.196681051, 231.515969782))
        make_face(mode=Mode.SUBTRACT)
        with BuildLine():
            Line((423.837981051, 234.132169782), (448.729981051, 234.132169782))
            ThreePointArc((448.729981051, 234.132169782), (448.909586174, 234.057774904), (448.983981051, 233.878169782))
            Line((448.983981051, 233.878169782), (448.983981051, 231.198469782))
            ThreePointArc((448.983981051, 231.198469782), (448.909586174, 231.018864659), (448.729981051, 230.944469782))
            Line((448.729981051, 230.944469782), (423.837981051, 230.944469782))
            ThreePointArc((423.837981051, 230.944469782), (423.658375929, 231.018864659), (423.583981051, 231.198469782))
            Line((423.583981051, 231.198469782), (423.583981051, 233.878169782))
            ThreePointArc((423.583981051, 233.878169782), (423.658375929, 234.057774904), (423.837981051, 234.132169782))
        make_face(mode=Mode.SUBTRACT)
        with BuildLine():
            Line((372.783981051, 233.878169782), (372.783981051, 231.198469782))
            ThreePointArc((372.783981051, 231.198469782), (372.709586174, 231.018864659), (372.529981051, 230.944469782))
            Line((372.529981051, 230.944469782), (347.637981051, 230.944469782))
            ThreePointArc((347.637981051, 230.944469782), (347.458375929, 231.018864659), (347.383981051, 231.198469782))
            Line((347.383981051, 231.198469782), (347.383981051, 233.878169782))
            ThreePointArc((347.383981051, 233.878169782), (347.458375929, 234.057774904), (347.637981051, 234.132169782))
            Line((347.637981051, 234.132169782), (372.529981051, 234.132169782))
            ThreePointArc((372.529981051, 234.132169782), (372.709586174, 234.057774904), (372.783981051, 233.878169782))
        make_face(mode=Mode.SUBTRACT)
        with BuildLine():
            Line((525.196681051, 305.175969782), (525.196681051, 330.067969782))
            ThreePointArc((525.196681051, 330.067969782), (525.271075929, 330.247574904), (525.450681051, 330.321969782))
            Line((525.450681051, 330.321969782), (528.130381051, 330.321969782))
            ThreePointArc((528.130381051, 330.321969782), (528.309986174, 330.247574904), (528.384381051, 330.067969782))
            Line((528.384381051, 330.067969782), (528.384381051, 305.175969782))
            ThreePointArc((528.384381051, 305.175969782), (528.309986174, 304.996364659), (528.130381051, 304.921969782))
            Line((528.130381051, 304.921969782), (525.450681051, 304.921969782))
            ThreePointArc((525.450681051, 304.921969782), (525.271075929, 304.996364659), (525.196681051, 305.175969782))
        make_face(mode=Mode.SUBTRACT)
        with BuildLine():
            Line((507.416681051, 246.832169782), (440.663369429, 246.832169782))
            ThreePointArc((440.663369429, 246.832169782), (430.00413229, 252.627775268), (429.073514559, 264.724978663))
            Line((429.073514559, 264.724978663), (471.033100648, 358.374778663))
            ThreePointArc((471.033100648, 358.374778663), (475.718561005, 363.841206921), (482.622955519, 365.881969782))
            Line((482.622955519, 365.881969782), (499.796681051, 365.881969782))
            ThreePointArc((499.796681051, 365.881969782), (508.776937172, 362.162225903), (512.496681051, 353.181969782))
            Line((512.496681051, 353.181969782), (512.496681051, 251.912169782))
            ThreePointArc((512.496681051, 251.912169782), (511.0087835, 248.320067333), (507.416681051, 246.832169782))
        make_face(mode=Mode.SUBTRACT)
        with BuildLine():
            Line((390.878572632, 231.198469782), (408.150572632, 231.198469782))
            ThreePointArc((408.150572632, 231.198469782), (412.214572632, 227.134469782), (408.150572632, 223.070469782))
            Line((408.150572632, 223.070469782), (390.878572632, 223.070469782))
            ThreePointArc((390.878572632, 223.070469782), (386.814572632, 227.134469782), (390.878572632, 231.198469782))
        make_face(mode=Mode.SUBTRACT)
    extrude(amount=BOSS_EXTRUDE1_DEPTH)


solid = part.part
